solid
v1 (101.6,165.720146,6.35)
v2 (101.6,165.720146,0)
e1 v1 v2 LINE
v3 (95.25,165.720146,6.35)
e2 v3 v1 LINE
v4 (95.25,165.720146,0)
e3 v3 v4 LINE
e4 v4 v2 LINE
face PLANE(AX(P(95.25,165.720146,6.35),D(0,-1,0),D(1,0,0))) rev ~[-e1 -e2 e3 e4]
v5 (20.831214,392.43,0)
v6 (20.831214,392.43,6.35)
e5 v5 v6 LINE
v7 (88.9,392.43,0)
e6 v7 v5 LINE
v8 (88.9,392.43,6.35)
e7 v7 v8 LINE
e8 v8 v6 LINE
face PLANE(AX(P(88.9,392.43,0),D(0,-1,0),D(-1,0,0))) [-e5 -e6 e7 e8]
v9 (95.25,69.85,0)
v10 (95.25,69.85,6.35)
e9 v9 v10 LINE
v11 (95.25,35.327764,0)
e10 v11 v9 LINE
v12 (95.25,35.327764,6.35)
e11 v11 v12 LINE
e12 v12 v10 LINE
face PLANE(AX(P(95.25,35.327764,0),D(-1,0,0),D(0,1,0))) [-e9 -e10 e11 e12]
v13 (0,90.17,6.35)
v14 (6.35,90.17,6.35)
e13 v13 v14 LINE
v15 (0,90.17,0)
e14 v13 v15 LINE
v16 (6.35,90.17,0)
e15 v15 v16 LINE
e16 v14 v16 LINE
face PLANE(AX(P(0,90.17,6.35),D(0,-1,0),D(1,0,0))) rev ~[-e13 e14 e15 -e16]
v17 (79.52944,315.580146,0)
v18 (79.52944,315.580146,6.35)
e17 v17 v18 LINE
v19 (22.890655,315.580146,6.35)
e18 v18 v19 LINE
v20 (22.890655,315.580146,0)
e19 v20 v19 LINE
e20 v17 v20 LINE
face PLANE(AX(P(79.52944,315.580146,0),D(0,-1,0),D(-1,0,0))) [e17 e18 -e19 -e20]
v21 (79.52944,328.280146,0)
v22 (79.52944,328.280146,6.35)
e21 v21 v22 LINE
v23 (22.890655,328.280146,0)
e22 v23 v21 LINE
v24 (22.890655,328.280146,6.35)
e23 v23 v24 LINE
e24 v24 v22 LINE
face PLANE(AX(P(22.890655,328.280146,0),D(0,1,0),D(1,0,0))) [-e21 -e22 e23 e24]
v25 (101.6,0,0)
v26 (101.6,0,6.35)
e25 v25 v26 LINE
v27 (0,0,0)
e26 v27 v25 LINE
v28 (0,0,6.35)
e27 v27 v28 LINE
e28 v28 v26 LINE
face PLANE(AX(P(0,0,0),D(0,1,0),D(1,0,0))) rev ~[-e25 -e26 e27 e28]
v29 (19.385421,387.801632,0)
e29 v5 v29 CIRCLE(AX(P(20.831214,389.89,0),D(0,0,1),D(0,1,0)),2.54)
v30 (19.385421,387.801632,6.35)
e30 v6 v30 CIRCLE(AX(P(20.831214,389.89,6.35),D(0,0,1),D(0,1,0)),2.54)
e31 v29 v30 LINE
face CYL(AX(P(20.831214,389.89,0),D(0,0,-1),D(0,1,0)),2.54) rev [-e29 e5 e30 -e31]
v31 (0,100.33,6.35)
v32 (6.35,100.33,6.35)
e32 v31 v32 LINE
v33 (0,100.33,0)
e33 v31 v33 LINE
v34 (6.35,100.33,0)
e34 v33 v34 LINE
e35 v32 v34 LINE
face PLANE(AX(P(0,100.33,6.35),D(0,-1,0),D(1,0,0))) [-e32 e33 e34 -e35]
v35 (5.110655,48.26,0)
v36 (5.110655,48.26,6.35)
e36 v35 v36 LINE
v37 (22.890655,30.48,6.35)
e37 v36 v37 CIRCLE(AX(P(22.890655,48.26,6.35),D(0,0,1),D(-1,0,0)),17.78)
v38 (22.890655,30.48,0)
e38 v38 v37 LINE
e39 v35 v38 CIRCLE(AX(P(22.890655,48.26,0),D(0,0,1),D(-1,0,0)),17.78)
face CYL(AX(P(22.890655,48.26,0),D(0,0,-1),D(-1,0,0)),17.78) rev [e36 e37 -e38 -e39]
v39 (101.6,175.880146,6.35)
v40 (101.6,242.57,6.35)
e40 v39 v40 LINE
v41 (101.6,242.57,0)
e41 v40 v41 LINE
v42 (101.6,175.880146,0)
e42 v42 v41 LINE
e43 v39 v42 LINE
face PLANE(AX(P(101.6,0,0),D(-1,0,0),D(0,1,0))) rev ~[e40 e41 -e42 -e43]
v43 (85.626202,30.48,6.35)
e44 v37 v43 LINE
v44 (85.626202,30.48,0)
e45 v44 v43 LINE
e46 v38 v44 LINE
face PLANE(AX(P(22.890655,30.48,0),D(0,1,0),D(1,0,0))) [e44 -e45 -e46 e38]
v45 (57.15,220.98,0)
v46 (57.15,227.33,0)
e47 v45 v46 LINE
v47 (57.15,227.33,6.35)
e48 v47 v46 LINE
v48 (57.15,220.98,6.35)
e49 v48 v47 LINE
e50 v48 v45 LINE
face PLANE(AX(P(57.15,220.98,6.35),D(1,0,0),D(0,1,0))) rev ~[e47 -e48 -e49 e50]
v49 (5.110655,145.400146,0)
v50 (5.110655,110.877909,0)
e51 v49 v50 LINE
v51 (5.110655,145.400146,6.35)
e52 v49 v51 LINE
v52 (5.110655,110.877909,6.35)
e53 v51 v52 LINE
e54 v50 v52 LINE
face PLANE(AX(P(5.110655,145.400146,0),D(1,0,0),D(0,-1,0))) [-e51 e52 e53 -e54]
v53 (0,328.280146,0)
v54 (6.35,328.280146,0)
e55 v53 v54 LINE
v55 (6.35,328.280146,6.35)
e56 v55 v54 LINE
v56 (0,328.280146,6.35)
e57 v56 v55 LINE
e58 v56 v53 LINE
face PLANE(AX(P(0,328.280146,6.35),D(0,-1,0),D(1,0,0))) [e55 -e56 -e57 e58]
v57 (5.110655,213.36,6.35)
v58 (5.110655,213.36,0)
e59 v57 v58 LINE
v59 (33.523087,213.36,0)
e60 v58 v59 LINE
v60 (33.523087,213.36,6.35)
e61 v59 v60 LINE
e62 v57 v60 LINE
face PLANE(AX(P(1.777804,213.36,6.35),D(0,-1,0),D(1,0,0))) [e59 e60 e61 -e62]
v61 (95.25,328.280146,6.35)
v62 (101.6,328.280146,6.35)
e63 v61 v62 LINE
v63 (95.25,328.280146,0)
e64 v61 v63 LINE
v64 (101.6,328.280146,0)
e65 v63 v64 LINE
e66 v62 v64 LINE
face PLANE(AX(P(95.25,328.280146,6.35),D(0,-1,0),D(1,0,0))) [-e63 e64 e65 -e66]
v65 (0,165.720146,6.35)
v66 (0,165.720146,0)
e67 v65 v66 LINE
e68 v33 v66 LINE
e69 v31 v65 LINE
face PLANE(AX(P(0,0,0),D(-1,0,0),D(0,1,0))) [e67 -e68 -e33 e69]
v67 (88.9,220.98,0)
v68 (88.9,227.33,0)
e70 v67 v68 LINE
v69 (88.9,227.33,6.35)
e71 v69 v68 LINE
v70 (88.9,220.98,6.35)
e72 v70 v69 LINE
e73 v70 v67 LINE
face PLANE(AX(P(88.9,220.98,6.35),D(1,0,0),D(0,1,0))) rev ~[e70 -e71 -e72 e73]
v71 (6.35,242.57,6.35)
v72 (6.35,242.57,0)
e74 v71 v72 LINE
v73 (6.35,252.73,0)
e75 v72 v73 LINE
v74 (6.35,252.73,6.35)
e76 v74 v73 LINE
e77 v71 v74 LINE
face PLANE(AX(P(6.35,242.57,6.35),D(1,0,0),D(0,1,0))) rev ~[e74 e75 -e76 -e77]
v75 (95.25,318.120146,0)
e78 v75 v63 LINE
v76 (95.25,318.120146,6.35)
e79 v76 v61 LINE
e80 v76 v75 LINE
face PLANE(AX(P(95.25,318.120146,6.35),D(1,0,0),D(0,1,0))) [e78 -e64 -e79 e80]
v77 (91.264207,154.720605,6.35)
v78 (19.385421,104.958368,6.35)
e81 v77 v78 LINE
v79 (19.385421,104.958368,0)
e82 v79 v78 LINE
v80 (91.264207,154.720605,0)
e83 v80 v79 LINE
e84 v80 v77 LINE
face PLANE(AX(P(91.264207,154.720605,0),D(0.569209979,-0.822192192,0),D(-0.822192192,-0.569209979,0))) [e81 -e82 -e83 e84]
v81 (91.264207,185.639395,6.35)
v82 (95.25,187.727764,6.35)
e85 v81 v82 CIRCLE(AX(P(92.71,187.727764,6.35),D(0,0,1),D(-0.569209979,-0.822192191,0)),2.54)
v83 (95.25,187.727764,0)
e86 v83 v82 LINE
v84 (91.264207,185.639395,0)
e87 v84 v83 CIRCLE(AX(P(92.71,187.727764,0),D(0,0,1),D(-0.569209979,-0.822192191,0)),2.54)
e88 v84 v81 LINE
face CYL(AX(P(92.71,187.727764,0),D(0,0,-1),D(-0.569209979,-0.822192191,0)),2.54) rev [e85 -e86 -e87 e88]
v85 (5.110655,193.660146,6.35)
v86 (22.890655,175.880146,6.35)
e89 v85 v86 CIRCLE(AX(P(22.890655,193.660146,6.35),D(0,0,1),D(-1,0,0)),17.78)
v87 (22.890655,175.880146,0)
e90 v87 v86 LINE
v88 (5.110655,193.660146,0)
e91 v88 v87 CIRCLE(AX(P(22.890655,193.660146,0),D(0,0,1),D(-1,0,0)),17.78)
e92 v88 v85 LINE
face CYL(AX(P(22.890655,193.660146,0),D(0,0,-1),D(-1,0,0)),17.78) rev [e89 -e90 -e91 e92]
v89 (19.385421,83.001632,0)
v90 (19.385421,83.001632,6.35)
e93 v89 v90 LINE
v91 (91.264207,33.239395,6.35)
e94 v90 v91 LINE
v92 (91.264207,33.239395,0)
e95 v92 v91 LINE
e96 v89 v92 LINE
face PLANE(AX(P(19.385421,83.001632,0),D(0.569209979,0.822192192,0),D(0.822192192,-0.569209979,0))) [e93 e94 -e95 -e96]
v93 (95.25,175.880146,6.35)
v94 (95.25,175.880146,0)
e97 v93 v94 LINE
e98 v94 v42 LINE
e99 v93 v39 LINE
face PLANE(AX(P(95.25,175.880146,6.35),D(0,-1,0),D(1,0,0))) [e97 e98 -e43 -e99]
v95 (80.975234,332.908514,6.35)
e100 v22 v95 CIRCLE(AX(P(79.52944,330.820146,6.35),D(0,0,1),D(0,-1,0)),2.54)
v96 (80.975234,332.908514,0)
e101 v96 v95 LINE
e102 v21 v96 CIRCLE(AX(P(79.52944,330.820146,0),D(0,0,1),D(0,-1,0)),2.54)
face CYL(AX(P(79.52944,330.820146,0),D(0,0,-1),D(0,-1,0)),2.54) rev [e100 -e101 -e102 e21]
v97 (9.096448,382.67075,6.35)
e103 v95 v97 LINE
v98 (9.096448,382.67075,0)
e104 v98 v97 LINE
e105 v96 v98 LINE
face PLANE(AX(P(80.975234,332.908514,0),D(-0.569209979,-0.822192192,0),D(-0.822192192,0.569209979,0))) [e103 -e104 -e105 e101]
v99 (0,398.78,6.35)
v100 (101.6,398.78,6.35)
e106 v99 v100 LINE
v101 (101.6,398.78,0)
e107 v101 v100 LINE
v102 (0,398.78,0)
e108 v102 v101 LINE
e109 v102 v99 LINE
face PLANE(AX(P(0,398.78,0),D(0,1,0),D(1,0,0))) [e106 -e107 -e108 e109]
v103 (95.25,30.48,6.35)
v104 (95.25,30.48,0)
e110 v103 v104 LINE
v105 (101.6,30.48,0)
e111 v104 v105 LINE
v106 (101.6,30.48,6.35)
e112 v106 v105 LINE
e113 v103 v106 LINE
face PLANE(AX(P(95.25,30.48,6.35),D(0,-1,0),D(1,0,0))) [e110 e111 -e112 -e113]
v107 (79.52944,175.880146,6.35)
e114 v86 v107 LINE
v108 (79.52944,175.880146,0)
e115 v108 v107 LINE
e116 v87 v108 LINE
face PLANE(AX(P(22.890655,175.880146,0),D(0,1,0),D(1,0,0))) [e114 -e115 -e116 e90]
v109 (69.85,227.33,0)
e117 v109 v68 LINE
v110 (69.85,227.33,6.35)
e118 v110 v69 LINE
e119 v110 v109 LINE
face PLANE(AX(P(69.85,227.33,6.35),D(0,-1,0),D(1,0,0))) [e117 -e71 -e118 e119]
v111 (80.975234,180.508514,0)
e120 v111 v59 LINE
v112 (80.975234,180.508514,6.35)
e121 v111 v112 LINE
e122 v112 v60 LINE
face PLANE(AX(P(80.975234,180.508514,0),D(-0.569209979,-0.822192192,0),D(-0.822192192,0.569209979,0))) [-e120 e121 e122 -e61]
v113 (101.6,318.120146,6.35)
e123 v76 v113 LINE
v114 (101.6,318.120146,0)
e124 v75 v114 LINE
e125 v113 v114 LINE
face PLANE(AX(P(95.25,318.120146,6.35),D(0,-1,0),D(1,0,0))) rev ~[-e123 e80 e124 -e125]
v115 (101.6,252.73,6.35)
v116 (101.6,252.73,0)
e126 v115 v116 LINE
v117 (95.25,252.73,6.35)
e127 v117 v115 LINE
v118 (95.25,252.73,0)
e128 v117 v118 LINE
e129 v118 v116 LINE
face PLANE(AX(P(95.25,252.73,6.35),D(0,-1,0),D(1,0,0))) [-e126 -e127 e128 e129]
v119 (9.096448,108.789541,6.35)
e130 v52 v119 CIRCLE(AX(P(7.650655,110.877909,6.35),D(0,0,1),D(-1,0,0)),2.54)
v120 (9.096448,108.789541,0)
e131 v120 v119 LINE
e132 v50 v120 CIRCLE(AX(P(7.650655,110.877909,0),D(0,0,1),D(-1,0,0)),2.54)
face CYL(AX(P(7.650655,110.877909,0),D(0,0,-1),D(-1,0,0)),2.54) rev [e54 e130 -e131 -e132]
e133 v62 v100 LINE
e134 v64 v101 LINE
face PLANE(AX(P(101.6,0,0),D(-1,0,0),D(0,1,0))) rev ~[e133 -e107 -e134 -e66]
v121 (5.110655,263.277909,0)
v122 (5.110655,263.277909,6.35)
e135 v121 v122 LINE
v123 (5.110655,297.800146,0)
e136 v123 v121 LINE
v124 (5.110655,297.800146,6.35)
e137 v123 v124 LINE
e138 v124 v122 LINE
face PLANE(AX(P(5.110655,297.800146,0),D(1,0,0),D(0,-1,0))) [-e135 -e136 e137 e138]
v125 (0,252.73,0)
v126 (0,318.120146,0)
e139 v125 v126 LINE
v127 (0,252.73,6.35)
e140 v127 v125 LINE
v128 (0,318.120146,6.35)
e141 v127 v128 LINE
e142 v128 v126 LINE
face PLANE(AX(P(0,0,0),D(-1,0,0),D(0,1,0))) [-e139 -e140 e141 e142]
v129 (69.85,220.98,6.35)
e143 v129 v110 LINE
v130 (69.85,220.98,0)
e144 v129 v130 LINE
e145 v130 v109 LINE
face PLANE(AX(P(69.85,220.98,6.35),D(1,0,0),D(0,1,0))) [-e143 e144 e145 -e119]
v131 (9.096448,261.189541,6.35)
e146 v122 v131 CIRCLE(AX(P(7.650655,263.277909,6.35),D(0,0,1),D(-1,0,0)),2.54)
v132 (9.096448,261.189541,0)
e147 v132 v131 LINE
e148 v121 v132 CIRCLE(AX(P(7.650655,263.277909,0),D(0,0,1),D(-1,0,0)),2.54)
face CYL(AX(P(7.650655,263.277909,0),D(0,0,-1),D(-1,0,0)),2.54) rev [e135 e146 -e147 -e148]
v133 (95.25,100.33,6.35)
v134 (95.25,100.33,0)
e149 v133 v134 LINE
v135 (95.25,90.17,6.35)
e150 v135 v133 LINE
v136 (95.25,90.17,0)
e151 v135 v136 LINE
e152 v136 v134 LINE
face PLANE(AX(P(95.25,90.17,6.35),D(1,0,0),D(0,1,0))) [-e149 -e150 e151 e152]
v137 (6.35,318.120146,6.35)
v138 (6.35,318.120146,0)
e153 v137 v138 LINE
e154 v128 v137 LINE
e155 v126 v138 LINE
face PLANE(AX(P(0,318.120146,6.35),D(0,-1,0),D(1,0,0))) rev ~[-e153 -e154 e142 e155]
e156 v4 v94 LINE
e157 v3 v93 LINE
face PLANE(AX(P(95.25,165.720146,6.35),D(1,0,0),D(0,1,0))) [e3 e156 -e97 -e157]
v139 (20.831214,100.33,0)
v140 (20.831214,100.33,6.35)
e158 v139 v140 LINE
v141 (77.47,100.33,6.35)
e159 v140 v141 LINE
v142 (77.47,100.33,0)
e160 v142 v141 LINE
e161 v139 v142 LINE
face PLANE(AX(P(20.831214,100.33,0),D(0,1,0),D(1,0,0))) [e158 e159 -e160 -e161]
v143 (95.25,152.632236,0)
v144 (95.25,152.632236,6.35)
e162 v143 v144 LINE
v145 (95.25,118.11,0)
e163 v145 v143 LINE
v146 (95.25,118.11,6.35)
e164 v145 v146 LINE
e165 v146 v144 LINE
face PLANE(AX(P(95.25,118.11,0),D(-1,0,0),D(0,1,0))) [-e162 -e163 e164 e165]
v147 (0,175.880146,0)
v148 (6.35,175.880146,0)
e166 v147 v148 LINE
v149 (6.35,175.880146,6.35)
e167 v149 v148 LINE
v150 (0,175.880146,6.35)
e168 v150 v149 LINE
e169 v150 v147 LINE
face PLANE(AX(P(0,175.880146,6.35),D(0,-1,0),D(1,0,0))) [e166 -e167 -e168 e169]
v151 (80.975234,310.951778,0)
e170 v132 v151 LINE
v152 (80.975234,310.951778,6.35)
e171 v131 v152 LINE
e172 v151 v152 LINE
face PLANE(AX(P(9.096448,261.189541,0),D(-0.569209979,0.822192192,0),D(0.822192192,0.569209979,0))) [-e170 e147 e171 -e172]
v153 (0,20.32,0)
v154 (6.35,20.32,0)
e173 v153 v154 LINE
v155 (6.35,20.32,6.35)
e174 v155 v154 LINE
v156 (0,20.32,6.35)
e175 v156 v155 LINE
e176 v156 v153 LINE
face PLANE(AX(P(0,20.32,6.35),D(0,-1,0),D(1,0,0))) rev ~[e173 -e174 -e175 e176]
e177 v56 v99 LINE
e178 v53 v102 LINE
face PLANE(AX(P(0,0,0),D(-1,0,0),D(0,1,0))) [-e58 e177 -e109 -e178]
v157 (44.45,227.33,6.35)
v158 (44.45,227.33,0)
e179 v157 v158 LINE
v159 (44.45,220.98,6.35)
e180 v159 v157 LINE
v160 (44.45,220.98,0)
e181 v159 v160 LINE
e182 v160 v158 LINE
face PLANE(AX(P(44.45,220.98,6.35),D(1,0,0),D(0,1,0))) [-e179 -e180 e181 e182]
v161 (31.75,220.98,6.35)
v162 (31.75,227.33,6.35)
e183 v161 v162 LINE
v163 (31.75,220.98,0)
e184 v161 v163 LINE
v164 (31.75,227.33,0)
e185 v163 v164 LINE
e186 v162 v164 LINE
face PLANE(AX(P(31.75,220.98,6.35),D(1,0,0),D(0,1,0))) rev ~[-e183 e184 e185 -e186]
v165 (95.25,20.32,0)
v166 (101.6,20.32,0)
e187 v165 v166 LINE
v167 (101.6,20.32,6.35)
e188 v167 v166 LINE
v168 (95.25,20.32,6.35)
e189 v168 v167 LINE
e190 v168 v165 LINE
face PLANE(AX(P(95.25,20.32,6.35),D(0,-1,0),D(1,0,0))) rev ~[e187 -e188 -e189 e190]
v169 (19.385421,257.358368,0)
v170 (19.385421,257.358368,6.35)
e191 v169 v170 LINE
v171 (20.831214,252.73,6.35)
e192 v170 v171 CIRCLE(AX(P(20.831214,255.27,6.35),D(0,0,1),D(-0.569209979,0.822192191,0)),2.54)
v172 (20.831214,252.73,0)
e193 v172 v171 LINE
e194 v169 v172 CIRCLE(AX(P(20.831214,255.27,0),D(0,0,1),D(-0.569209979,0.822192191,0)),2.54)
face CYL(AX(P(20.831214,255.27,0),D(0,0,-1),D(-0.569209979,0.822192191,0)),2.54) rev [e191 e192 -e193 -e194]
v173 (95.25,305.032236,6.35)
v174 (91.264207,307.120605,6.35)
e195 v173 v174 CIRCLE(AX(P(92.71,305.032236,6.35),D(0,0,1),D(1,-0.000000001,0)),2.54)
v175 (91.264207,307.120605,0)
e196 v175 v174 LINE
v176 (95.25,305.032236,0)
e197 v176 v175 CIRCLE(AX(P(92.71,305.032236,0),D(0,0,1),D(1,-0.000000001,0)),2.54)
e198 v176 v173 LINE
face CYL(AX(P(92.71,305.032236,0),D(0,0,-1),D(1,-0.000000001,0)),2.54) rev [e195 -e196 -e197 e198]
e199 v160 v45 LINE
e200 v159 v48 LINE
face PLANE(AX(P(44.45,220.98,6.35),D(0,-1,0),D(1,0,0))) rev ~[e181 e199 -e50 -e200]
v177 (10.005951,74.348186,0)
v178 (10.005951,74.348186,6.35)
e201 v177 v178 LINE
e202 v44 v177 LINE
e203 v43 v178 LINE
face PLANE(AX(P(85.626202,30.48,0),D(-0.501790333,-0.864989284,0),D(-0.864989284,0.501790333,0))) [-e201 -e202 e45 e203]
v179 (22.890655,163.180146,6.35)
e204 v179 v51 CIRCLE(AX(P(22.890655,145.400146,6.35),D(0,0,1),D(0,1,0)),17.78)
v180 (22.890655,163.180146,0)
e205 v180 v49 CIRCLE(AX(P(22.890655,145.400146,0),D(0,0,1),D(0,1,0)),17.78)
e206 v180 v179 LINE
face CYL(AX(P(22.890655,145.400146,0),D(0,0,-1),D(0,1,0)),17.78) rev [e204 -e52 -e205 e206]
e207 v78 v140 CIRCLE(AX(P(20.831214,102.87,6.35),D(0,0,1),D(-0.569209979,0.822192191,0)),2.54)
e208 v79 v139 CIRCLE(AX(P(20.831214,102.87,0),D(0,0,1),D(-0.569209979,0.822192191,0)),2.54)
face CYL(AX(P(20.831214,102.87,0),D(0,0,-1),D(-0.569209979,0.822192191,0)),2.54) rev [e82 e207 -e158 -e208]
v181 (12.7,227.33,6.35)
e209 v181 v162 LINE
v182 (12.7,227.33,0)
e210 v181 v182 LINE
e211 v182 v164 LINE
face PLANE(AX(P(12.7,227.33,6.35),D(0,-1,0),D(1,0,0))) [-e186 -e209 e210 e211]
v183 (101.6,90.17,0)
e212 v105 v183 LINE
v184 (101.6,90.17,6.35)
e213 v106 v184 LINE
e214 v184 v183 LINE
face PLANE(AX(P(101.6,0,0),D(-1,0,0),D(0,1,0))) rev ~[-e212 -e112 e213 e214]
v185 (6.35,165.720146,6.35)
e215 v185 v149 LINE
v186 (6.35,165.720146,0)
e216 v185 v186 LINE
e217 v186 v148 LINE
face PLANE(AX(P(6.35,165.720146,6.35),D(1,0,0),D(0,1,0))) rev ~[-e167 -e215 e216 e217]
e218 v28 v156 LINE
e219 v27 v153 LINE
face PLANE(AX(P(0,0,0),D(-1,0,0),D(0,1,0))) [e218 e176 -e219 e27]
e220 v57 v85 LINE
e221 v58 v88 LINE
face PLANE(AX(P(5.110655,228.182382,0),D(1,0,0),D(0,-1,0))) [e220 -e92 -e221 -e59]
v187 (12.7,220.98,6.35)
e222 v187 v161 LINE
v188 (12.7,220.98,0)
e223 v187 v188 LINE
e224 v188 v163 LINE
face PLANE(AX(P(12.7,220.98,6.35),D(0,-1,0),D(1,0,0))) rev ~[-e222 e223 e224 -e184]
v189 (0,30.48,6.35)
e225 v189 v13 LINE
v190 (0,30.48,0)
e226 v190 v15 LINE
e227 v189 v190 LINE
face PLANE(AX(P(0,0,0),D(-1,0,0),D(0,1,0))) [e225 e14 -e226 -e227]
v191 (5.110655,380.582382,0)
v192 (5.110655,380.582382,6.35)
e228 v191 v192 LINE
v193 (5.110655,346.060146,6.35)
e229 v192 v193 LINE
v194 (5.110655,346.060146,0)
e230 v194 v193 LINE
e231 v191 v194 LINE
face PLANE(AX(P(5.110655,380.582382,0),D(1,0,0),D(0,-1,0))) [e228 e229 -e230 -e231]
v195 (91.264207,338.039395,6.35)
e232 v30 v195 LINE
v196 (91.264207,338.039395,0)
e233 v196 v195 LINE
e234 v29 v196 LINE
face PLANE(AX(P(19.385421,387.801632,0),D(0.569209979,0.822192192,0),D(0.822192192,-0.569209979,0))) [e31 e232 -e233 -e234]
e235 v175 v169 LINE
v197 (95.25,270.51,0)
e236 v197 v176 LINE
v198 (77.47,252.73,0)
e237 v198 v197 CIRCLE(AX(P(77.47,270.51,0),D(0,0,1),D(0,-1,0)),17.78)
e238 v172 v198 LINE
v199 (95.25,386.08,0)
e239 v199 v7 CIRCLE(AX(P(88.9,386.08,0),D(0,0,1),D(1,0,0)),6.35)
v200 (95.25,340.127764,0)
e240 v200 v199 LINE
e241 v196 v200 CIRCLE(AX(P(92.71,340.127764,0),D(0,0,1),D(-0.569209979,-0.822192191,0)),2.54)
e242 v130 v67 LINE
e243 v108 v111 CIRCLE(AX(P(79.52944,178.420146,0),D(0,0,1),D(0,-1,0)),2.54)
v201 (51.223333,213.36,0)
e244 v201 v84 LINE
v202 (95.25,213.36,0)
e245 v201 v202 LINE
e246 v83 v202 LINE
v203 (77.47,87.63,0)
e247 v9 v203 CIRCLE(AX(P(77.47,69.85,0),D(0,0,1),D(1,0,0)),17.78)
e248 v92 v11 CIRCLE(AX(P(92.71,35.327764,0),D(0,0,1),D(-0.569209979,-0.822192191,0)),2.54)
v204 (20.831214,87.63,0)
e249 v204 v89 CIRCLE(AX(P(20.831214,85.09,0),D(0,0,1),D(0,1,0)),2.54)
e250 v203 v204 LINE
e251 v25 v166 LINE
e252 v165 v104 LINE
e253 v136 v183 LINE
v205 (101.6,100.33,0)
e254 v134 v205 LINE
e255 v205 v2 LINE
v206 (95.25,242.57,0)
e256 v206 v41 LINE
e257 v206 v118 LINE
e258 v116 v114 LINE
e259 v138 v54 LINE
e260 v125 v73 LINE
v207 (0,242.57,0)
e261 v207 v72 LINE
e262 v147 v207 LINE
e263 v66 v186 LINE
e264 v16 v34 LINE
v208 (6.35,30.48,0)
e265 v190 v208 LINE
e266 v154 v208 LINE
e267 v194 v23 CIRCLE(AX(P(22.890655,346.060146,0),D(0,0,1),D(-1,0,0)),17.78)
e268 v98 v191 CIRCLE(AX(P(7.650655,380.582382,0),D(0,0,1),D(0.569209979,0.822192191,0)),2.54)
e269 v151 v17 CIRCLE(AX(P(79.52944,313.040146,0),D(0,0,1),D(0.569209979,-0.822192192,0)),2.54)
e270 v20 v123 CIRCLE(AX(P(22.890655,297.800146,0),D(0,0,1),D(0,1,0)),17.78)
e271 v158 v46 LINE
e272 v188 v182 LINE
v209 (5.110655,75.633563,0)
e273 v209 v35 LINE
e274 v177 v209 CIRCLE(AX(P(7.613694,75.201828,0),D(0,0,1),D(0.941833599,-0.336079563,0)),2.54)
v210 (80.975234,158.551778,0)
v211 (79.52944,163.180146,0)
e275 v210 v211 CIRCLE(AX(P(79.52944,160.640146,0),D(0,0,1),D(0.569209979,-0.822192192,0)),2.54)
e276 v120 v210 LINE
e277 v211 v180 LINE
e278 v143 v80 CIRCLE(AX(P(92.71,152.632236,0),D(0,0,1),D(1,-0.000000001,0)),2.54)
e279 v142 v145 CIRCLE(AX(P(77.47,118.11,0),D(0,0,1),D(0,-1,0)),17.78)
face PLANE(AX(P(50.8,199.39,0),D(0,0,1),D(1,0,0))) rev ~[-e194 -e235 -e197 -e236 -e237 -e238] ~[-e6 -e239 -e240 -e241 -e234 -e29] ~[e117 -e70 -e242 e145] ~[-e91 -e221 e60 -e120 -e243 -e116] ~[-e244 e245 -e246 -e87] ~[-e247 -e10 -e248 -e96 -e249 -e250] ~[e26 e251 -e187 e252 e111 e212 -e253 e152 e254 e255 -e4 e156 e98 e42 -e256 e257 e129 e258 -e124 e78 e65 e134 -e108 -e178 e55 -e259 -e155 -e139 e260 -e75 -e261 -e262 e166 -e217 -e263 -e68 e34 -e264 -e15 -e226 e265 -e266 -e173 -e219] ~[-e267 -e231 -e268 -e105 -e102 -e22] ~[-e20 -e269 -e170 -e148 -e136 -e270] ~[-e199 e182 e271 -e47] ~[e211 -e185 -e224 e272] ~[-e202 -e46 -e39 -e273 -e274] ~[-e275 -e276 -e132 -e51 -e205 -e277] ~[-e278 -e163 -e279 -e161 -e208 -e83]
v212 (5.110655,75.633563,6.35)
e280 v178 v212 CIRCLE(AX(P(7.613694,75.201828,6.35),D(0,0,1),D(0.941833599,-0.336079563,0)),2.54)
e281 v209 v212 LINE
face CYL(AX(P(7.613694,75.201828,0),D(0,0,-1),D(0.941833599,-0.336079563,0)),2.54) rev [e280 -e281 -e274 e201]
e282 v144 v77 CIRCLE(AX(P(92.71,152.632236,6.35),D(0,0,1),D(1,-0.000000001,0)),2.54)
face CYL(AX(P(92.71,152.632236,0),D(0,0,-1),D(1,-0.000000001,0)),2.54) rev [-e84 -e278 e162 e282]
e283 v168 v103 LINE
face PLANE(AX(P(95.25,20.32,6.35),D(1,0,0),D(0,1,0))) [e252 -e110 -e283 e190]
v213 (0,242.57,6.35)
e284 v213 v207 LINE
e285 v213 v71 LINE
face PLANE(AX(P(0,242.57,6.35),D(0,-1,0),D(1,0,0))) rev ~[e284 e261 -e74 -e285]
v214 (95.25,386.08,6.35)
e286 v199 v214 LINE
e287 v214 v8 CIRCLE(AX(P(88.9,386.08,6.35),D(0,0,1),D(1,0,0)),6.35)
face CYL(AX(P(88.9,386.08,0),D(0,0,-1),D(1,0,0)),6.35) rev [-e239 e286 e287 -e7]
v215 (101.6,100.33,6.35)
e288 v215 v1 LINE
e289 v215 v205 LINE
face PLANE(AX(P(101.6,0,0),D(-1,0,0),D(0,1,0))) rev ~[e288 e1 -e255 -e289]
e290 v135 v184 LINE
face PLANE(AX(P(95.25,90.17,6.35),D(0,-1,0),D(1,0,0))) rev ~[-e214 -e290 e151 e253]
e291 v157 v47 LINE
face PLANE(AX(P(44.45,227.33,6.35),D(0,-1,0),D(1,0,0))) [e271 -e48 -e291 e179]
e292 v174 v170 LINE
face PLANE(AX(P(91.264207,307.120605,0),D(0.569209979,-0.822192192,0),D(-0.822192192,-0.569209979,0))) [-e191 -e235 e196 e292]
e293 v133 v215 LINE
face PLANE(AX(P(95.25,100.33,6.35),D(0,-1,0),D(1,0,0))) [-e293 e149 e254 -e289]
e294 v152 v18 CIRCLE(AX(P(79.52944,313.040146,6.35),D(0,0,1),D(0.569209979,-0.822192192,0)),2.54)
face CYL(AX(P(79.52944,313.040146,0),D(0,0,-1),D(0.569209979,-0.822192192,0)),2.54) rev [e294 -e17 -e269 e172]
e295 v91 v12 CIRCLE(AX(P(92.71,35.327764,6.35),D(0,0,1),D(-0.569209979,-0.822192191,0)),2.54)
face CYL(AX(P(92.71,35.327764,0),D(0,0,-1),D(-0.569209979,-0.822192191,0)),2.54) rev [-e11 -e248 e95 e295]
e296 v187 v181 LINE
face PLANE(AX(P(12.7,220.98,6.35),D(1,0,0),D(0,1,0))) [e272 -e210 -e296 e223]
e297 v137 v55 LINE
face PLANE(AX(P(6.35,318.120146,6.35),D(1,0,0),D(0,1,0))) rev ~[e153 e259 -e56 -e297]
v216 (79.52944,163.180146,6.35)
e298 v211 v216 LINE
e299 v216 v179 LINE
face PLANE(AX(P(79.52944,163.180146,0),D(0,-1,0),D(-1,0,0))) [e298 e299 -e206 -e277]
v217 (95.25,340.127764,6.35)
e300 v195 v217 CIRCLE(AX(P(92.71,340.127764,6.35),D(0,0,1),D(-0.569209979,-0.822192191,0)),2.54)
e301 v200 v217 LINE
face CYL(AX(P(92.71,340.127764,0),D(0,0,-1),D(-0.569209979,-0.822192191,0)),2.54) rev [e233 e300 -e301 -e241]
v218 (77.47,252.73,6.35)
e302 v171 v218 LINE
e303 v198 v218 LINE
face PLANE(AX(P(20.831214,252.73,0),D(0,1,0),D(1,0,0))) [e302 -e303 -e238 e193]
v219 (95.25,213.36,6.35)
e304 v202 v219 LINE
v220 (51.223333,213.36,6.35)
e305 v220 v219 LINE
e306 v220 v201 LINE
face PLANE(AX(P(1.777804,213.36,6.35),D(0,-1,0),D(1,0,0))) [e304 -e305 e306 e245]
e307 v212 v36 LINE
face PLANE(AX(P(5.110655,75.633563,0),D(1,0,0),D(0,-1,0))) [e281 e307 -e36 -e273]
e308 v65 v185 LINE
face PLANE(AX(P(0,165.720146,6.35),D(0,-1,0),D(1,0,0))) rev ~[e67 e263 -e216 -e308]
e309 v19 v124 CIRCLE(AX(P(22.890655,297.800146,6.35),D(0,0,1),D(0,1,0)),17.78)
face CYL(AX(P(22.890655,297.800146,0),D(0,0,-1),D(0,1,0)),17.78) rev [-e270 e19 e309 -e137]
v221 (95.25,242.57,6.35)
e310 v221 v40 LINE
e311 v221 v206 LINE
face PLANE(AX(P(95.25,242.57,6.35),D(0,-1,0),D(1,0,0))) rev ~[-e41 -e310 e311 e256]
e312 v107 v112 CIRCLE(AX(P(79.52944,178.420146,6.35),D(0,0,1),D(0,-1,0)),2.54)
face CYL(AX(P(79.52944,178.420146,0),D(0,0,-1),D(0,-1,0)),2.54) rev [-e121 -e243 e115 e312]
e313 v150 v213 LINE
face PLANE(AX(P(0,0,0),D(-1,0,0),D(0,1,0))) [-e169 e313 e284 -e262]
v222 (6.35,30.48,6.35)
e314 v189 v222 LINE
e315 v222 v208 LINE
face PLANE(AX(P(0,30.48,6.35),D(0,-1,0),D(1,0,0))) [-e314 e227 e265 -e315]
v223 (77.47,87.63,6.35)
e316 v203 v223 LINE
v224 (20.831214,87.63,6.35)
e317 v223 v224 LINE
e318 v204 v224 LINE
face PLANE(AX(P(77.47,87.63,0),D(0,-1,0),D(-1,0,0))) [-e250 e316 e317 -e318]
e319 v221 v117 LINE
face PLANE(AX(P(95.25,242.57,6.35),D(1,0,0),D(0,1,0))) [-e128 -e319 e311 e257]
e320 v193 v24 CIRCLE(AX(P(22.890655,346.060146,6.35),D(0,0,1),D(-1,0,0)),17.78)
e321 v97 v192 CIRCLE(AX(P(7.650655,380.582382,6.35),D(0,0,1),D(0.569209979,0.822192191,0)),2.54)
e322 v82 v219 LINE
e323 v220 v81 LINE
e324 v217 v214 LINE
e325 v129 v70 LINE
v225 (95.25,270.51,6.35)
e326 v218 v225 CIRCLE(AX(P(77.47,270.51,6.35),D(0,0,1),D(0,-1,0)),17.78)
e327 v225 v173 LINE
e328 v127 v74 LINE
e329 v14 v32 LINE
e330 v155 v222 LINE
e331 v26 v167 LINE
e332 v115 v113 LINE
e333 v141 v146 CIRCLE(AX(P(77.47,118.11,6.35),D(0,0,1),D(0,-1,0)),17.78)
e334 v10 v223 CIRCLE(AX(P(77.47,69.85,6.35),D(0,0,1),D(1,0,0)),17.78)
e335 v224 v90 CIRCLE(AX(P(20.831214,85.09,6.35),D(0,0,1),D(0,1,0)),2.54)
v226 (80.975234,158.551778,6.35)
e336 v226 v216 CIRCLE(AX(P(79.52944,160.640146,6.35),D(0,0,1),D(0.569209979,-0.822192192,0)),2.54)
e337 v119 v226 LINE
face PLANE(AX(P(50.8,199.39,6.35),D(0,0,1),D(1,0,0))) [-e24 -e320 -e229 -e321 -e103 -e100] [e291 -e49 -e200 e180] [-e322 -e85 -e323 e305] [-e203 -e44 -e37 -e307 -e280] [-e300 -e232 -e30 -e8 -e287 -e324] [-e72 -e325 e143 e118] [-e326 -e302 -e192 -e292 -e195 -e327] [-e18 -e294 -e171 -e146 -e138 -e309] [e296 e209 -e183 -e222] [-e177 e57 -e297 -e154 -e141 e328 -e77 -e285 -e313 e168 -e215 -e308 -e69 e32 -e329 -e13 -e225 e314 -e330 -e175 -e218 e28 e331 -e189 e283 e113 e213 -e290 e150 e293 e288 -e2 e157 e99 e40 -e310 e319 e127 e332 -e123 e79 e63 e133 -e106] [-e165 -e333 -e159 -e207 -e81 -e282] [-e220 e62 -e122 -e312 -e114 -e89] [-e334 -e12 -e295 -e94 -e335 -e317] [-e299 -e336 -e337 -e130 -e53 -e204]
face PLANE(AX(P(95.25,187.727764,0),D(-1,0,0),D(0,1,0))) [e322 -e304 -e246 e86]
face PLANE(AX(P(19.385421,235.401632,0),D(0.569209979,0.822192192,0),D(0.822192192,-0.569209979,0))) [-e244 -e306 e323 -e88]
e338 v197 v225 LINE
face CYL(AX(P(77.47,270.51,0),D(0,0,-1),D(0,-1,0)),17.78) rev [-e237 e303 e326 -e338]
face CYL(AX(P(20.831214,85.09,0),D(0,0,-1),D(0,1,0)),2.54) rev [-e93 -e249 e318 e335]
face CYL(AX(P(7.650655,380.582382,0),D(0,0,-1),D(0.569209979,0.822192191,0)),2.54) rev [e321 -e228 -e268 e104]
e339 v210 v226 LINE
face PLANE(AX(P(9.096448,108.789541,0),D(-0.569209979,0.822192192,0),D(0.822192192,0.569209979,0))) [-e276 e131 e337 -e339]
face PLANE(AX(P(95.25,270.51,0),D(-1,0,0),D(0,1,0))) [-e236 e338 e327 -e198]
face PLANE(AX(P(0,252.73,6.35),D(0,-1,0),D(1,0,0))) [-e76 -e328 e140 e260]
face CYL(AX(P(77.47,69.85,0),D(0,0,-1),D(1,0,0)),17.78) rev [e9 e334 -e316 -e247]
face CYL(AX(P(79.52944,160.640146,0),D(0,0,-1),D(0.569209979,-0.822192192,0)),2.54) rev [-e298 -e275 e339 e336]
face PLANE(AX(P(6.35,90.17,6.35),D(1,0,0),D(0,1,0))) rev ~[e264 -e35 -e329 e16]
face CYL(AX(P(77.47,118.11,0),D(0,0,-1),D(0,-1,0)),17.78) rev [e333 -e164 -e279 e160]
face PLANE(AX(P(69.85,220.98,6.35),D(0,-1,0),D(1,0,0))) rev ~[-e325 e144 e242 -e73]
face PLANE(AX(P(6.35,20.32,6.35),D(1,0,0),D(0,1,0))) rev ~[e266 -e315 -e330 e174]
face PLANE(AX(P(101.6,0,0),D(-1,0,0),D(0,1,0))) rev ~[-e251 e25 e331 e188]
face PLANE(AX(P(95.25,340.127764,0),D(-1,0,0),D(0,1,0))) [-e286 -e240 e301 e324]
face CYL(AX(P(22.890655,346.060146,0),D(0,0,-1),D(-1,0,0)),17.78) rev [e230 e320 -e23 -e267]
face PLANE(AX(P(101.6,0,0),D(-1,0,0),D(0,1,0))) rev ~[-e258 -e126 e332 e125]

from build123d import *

# Parameters (mm, degrees)
MODEL_W             = 101.6
MODEL_H             = 398.78
BOSS_EXTRUDE1_DEPTH = 6.35
SKETCH1_W           = 6.35
SKETCH1_H           = 10.16
CUT_EXTRUDE1_DEPTH  = 6.35
SKETCH2_W           = 95.776452478
SKETCH2_H           = 26.67
BOSS_EXTRUDE2_DEPTH = 6.35
SKETCH3_W           = 19.05
SKETCH3_H           = 6.35
SKETCH3_W_2         = 12.7
CUT_EXTRUDE2_DEPTH  = 6.35


with BuildPart() as part:
    # Model → Boss-Extrude1 (new body)
    with BuildSketch(Plane.XY):
        with Locations((50.8, 199.39)):
            Rectangle(MODEL_W, MODEL_H)
        with BuildLine():
            Line((77.47, 87.63), (20.83121403, 87.63))
            ThreePointArc((20.83121403, 87.63), (18.406749642, 85.847345646), (19.385420684, 83.001631833))
            Line((19.385420684, 83.001631833), (91.264206654, 33.239395393))
            ThreePointArc((91.264206654, 33.239395393), (93.888830968, 33.077884107), (95.25, 35.32776356))
            Line((95.25, 35.32776356), (95.25, 69.85))
            ThreePointArc((95.25, 69.85), (90.042358569, 82.422358569), (77.47, 87.63))
        make_face(mode=Mode.SUBTRACT)
        with BuildLine():
            Line((5.110654516, 145.400145775), (5.110654516, 110.877909335))
            ThreePointArc((5.110654516, 110.877909335), (6.471823548, 108.628029883), (9.096447862, 108.789541168))
            Line((9.096447862, 108.789541168), (80.975233831, 158.551777608))
            ThreePointArc((80.975233831, 158.551777608), (81.953904874, 161.397491422), (79.529440485, 163.180145775))
            Line((79.529440485, 163.180145775), (22.890654516, 163.180145775))
            ThreePointArc((22.890654516, 163.180145775), (10.318295946, 157.972504345), (5.110654516, 145.400145775))
        make_face(mode=Mode.SUBTRACT)
        with BuildLine():
            Line((77.47, 240.03), (20.83121403, 240.03))
            ThreePointArc((20.83121403, 240.03), (18.406749642, 238.247345646), (19.385420684, 235.401631833))
            Line((19.385420684, 235.401631833), (91.264206654, 185.639395393))
            ThreePointArc((91.264206654, 185.639395393), (93.888830968, 185.477884107), (95.25, 187.72776356))
            Line((95.25, 187.72776356), (95.25, 222.25))
            ThreePointArc((95.25, 222.25), (90.042358569, 234.822358569), (77.47, 240.03))
        make_face(mode=Mode.SUBTRACT)
        with BuildLine():
            Line((22.890654516, 175.880145775), (79.529440485, 175.880145775))
            ThreePointArc((79.529440485, 175.880145775), (81.953904874, 177.662800129), (80.975233831, 180.508513942))
            Line((80.975233831, 180.508513942), (9.096447862, 230.270750382))
            ThreePointArc((9.096447862, 230.270750382), (6.471823548, 230.432261668), (5.110654516, 228.182382216))
            Line((5.110654516, 228.182382216), (5.110654516, 193.660145775))
            ThreePointArc((5.110654516, 193.660145775), (10.318295946, 181.087787206), (22.890654516, 175.880145775))
        make_face(mode=Mode.SUBTRACT)
        with BuildLine():
            Line((91.264206654, 154.720604607), (19.385420684, 104.958368167))
            ThreePointArc((19.385420684, 104.958368167), (18.406749642, 102.112654354), (20.83121403, 100.33))
            Line((20.83121403, 100.33), (77.47, 100.33))
            ThreePointArc((77.47, 100.33), (90.042358569, 105.537641431), (95.25, 118.11))
            Line((95.25, 118.11), (95.25, 152.63223644))
            ThreePointArc((95.25, 152.63223644), (93.888830968, 154.882115893), (91.264206654, 154.720604607))
        make_face(mode=Mode.SUBTRACT)
        with BuildLine():
            Line((5.110654516, 297.800145775), (5.110654516, 263.277909335))
            ThreePointArc((5.110654516, 263.277909335), (6.471823548, 261.028029883), (9.096447862, 261.189541168))
            Line((9.096447862, 261.189541168), (80.975233831, 310.951777608))
            ThreePointArc((80.975233831, 310.951777608), (81.953904874, 313.797491422), (79.529440485, 315.580145775))
            Line((79.529440485, 315.580145775), (22.890654516, 315.580145775))
            ThreePointArc((22.890654516, 315.580145775), (10.318295946, 310.372504345), (5.110654516, 297.800145775))
        make_face(mode=Mode.SUBTRACT)
        with BuildLine():
            Line((88.9, 392.43), (20.83121403, 392.43))
            ThreePointArc((20.83121403, 392.43), (18.406749642, 390.647345646), (19.385420684, 387.801631833))
            Line((19.385420684, 387.801631833), (91.264206654, 338.039395393))
            ThreePointArc((91.264206654, 338.039395393), (93.888830968, 337.877884107), (95.25, 340.12776356))
            Line((95.25, 340.12776356), (95.25, 386.08))
            ThreePointArc((95.25, 386.08), (93.390128061, 390.570128061), (88.9, 392.43))
        make_face(mode=Mode.SUBTRACT)
        with BuildLine():
            Line((22.890654516, 328.280145775), (79.529440485, 328.280145775))
            ThreePointArc((79.529440485, 328.280145775), (81.953904874, 330.062800129), (80.975233831, 332.908513942))
            Line((80.975233831, 332.908513942), (9.096447862, 382.670750382))
            ThreePointArc((9.096447862, 382.670750382), (6.471823548, 382.832261668), (5.110654516, 380.582382216))
            Line((5.110654516, 380.582382216), (5.110654516, 346.060145775))
            ThreePointArc((5.110654516, 346.060145775), (10.318295946, 333.487787206), (22.890654516, 328.280145775))
        make_face(mode=Mode.SUBTRACT)
        with BuildLine():
            Line((22.890654516, 30.48), (85.626201641, 30.48))
            Line((85.626201641, 30.48), (10.005950978, 74.34818594))
            ThreePointArc((10.005950978, 74.34818594), (8.258764757, 77.658550083), (5.110654516, 75.633563082))
            Line((5.110654516, 75.633563082), (5.110654516, 48.26))
            ThreePointArc((5.110654516, 48.26), (10.318295946, 35.687641431), (22.890654516, 30.48))
        make_face(mode=Mode.SUBTRACT)
        with BuildLine():
            Line((91.264206654, 307.120604607), (19.385420684, 257.358368167))
            ThreePointArc((19.385420684, 257.358368167), (18.406749642, 254.512654354), (20.83121403, 252.73))
            Line((20.83121403, 252.73), (77.47, 252.73))
            ThreePointArc((77.47, 252.73), (90.042358569, 257.937641431), (95.25, 270.51))
            Line((95.25, 270.51), (95.25, 305.03223644))
            ThreePointArc((95.25, 305.03223644), (93.888830968, 307.282115893), (91.264206654, 307.120604607))
        make_face(mode=Mode.SUBTRACT)
    extrude(amount=BOSS_EXTRUDE1_DEPTH)

    # Sketch1 → Cut-Extrude1 (cut)
    with BuildSketch(Plane.XY.offset(6.35)):
        with Locations((98.425, 323.200145775)):
            Rectangle(SKETCH1_W, SKETCH1_H)
        with Locations((98.425, 247.65)):
            Rectangle(SKETCH1_W, SKETCH1_H)
        with Locations((3.175, 247.65)):
            Rectangle(SKETCH1_W, SKETCH1_H)
        with Locations((3.175, 25.4)):
            Rectangle(SKETCH1_W, SKETCH1_H)
        with Locations((98.425, 170.800145775)):
            Rectangle(SKETCH1_W, SKETCH1_H)
        with Locations((3.175, 323.200145775)):
            Rectangle(SKETCH1_W, SKETCH1_H)
        with Locations((98.425, 25.4)):
            Rectangle(SKETCH1_W, SKETCH1_H)
        with Locations((98.425, 95.25)):
            Rectangle(SKETCH1_W, SKETCH1_H)
        with Locations((3.175, 95.25)):
            Rectangle(SKETCH1_W, SKETCH1_H)
        with Locations((3.175, 170.800145775)):
            Rectangle(SKETCH1_W, SKETCH1_H)
    extrude(amount=-CUT_EXTRUDE1_DEPTH, mode=Mode.SUBTRACT)

    # Sketch2 → Boss-Extrude2 (add)
    with BuildSketch(Plane.XY.offset(6.35)):
        with Locations((49.666030554, 226.695)):
            Rectangle(SKETCH2_W, SKETCH2_H)
    extrude(amount=-BOSS_EXTRUDE2_DEPTH)

    # Sketch3 → Cut-Extrude2 (cut)
    with BuildSketch(Plane.XY.offset(6.35)):
        with Locations((79.375, 224.155)):
            Rectangle(SKETCH3_W, SKETCH3_H)
        with Locations((22.225, 224.155)):
            Rectangle(SKETCH3_W, SKETCH3_H)
        with Locations((50.8, 224.155)):
            Rectangle(SKETCH3_W_2, SKETCH3_H)
    extrude(amount=-CUT_EXTRUDE2_DEPTH, mode=Mode.SUBTRACT)


solid = part.part
